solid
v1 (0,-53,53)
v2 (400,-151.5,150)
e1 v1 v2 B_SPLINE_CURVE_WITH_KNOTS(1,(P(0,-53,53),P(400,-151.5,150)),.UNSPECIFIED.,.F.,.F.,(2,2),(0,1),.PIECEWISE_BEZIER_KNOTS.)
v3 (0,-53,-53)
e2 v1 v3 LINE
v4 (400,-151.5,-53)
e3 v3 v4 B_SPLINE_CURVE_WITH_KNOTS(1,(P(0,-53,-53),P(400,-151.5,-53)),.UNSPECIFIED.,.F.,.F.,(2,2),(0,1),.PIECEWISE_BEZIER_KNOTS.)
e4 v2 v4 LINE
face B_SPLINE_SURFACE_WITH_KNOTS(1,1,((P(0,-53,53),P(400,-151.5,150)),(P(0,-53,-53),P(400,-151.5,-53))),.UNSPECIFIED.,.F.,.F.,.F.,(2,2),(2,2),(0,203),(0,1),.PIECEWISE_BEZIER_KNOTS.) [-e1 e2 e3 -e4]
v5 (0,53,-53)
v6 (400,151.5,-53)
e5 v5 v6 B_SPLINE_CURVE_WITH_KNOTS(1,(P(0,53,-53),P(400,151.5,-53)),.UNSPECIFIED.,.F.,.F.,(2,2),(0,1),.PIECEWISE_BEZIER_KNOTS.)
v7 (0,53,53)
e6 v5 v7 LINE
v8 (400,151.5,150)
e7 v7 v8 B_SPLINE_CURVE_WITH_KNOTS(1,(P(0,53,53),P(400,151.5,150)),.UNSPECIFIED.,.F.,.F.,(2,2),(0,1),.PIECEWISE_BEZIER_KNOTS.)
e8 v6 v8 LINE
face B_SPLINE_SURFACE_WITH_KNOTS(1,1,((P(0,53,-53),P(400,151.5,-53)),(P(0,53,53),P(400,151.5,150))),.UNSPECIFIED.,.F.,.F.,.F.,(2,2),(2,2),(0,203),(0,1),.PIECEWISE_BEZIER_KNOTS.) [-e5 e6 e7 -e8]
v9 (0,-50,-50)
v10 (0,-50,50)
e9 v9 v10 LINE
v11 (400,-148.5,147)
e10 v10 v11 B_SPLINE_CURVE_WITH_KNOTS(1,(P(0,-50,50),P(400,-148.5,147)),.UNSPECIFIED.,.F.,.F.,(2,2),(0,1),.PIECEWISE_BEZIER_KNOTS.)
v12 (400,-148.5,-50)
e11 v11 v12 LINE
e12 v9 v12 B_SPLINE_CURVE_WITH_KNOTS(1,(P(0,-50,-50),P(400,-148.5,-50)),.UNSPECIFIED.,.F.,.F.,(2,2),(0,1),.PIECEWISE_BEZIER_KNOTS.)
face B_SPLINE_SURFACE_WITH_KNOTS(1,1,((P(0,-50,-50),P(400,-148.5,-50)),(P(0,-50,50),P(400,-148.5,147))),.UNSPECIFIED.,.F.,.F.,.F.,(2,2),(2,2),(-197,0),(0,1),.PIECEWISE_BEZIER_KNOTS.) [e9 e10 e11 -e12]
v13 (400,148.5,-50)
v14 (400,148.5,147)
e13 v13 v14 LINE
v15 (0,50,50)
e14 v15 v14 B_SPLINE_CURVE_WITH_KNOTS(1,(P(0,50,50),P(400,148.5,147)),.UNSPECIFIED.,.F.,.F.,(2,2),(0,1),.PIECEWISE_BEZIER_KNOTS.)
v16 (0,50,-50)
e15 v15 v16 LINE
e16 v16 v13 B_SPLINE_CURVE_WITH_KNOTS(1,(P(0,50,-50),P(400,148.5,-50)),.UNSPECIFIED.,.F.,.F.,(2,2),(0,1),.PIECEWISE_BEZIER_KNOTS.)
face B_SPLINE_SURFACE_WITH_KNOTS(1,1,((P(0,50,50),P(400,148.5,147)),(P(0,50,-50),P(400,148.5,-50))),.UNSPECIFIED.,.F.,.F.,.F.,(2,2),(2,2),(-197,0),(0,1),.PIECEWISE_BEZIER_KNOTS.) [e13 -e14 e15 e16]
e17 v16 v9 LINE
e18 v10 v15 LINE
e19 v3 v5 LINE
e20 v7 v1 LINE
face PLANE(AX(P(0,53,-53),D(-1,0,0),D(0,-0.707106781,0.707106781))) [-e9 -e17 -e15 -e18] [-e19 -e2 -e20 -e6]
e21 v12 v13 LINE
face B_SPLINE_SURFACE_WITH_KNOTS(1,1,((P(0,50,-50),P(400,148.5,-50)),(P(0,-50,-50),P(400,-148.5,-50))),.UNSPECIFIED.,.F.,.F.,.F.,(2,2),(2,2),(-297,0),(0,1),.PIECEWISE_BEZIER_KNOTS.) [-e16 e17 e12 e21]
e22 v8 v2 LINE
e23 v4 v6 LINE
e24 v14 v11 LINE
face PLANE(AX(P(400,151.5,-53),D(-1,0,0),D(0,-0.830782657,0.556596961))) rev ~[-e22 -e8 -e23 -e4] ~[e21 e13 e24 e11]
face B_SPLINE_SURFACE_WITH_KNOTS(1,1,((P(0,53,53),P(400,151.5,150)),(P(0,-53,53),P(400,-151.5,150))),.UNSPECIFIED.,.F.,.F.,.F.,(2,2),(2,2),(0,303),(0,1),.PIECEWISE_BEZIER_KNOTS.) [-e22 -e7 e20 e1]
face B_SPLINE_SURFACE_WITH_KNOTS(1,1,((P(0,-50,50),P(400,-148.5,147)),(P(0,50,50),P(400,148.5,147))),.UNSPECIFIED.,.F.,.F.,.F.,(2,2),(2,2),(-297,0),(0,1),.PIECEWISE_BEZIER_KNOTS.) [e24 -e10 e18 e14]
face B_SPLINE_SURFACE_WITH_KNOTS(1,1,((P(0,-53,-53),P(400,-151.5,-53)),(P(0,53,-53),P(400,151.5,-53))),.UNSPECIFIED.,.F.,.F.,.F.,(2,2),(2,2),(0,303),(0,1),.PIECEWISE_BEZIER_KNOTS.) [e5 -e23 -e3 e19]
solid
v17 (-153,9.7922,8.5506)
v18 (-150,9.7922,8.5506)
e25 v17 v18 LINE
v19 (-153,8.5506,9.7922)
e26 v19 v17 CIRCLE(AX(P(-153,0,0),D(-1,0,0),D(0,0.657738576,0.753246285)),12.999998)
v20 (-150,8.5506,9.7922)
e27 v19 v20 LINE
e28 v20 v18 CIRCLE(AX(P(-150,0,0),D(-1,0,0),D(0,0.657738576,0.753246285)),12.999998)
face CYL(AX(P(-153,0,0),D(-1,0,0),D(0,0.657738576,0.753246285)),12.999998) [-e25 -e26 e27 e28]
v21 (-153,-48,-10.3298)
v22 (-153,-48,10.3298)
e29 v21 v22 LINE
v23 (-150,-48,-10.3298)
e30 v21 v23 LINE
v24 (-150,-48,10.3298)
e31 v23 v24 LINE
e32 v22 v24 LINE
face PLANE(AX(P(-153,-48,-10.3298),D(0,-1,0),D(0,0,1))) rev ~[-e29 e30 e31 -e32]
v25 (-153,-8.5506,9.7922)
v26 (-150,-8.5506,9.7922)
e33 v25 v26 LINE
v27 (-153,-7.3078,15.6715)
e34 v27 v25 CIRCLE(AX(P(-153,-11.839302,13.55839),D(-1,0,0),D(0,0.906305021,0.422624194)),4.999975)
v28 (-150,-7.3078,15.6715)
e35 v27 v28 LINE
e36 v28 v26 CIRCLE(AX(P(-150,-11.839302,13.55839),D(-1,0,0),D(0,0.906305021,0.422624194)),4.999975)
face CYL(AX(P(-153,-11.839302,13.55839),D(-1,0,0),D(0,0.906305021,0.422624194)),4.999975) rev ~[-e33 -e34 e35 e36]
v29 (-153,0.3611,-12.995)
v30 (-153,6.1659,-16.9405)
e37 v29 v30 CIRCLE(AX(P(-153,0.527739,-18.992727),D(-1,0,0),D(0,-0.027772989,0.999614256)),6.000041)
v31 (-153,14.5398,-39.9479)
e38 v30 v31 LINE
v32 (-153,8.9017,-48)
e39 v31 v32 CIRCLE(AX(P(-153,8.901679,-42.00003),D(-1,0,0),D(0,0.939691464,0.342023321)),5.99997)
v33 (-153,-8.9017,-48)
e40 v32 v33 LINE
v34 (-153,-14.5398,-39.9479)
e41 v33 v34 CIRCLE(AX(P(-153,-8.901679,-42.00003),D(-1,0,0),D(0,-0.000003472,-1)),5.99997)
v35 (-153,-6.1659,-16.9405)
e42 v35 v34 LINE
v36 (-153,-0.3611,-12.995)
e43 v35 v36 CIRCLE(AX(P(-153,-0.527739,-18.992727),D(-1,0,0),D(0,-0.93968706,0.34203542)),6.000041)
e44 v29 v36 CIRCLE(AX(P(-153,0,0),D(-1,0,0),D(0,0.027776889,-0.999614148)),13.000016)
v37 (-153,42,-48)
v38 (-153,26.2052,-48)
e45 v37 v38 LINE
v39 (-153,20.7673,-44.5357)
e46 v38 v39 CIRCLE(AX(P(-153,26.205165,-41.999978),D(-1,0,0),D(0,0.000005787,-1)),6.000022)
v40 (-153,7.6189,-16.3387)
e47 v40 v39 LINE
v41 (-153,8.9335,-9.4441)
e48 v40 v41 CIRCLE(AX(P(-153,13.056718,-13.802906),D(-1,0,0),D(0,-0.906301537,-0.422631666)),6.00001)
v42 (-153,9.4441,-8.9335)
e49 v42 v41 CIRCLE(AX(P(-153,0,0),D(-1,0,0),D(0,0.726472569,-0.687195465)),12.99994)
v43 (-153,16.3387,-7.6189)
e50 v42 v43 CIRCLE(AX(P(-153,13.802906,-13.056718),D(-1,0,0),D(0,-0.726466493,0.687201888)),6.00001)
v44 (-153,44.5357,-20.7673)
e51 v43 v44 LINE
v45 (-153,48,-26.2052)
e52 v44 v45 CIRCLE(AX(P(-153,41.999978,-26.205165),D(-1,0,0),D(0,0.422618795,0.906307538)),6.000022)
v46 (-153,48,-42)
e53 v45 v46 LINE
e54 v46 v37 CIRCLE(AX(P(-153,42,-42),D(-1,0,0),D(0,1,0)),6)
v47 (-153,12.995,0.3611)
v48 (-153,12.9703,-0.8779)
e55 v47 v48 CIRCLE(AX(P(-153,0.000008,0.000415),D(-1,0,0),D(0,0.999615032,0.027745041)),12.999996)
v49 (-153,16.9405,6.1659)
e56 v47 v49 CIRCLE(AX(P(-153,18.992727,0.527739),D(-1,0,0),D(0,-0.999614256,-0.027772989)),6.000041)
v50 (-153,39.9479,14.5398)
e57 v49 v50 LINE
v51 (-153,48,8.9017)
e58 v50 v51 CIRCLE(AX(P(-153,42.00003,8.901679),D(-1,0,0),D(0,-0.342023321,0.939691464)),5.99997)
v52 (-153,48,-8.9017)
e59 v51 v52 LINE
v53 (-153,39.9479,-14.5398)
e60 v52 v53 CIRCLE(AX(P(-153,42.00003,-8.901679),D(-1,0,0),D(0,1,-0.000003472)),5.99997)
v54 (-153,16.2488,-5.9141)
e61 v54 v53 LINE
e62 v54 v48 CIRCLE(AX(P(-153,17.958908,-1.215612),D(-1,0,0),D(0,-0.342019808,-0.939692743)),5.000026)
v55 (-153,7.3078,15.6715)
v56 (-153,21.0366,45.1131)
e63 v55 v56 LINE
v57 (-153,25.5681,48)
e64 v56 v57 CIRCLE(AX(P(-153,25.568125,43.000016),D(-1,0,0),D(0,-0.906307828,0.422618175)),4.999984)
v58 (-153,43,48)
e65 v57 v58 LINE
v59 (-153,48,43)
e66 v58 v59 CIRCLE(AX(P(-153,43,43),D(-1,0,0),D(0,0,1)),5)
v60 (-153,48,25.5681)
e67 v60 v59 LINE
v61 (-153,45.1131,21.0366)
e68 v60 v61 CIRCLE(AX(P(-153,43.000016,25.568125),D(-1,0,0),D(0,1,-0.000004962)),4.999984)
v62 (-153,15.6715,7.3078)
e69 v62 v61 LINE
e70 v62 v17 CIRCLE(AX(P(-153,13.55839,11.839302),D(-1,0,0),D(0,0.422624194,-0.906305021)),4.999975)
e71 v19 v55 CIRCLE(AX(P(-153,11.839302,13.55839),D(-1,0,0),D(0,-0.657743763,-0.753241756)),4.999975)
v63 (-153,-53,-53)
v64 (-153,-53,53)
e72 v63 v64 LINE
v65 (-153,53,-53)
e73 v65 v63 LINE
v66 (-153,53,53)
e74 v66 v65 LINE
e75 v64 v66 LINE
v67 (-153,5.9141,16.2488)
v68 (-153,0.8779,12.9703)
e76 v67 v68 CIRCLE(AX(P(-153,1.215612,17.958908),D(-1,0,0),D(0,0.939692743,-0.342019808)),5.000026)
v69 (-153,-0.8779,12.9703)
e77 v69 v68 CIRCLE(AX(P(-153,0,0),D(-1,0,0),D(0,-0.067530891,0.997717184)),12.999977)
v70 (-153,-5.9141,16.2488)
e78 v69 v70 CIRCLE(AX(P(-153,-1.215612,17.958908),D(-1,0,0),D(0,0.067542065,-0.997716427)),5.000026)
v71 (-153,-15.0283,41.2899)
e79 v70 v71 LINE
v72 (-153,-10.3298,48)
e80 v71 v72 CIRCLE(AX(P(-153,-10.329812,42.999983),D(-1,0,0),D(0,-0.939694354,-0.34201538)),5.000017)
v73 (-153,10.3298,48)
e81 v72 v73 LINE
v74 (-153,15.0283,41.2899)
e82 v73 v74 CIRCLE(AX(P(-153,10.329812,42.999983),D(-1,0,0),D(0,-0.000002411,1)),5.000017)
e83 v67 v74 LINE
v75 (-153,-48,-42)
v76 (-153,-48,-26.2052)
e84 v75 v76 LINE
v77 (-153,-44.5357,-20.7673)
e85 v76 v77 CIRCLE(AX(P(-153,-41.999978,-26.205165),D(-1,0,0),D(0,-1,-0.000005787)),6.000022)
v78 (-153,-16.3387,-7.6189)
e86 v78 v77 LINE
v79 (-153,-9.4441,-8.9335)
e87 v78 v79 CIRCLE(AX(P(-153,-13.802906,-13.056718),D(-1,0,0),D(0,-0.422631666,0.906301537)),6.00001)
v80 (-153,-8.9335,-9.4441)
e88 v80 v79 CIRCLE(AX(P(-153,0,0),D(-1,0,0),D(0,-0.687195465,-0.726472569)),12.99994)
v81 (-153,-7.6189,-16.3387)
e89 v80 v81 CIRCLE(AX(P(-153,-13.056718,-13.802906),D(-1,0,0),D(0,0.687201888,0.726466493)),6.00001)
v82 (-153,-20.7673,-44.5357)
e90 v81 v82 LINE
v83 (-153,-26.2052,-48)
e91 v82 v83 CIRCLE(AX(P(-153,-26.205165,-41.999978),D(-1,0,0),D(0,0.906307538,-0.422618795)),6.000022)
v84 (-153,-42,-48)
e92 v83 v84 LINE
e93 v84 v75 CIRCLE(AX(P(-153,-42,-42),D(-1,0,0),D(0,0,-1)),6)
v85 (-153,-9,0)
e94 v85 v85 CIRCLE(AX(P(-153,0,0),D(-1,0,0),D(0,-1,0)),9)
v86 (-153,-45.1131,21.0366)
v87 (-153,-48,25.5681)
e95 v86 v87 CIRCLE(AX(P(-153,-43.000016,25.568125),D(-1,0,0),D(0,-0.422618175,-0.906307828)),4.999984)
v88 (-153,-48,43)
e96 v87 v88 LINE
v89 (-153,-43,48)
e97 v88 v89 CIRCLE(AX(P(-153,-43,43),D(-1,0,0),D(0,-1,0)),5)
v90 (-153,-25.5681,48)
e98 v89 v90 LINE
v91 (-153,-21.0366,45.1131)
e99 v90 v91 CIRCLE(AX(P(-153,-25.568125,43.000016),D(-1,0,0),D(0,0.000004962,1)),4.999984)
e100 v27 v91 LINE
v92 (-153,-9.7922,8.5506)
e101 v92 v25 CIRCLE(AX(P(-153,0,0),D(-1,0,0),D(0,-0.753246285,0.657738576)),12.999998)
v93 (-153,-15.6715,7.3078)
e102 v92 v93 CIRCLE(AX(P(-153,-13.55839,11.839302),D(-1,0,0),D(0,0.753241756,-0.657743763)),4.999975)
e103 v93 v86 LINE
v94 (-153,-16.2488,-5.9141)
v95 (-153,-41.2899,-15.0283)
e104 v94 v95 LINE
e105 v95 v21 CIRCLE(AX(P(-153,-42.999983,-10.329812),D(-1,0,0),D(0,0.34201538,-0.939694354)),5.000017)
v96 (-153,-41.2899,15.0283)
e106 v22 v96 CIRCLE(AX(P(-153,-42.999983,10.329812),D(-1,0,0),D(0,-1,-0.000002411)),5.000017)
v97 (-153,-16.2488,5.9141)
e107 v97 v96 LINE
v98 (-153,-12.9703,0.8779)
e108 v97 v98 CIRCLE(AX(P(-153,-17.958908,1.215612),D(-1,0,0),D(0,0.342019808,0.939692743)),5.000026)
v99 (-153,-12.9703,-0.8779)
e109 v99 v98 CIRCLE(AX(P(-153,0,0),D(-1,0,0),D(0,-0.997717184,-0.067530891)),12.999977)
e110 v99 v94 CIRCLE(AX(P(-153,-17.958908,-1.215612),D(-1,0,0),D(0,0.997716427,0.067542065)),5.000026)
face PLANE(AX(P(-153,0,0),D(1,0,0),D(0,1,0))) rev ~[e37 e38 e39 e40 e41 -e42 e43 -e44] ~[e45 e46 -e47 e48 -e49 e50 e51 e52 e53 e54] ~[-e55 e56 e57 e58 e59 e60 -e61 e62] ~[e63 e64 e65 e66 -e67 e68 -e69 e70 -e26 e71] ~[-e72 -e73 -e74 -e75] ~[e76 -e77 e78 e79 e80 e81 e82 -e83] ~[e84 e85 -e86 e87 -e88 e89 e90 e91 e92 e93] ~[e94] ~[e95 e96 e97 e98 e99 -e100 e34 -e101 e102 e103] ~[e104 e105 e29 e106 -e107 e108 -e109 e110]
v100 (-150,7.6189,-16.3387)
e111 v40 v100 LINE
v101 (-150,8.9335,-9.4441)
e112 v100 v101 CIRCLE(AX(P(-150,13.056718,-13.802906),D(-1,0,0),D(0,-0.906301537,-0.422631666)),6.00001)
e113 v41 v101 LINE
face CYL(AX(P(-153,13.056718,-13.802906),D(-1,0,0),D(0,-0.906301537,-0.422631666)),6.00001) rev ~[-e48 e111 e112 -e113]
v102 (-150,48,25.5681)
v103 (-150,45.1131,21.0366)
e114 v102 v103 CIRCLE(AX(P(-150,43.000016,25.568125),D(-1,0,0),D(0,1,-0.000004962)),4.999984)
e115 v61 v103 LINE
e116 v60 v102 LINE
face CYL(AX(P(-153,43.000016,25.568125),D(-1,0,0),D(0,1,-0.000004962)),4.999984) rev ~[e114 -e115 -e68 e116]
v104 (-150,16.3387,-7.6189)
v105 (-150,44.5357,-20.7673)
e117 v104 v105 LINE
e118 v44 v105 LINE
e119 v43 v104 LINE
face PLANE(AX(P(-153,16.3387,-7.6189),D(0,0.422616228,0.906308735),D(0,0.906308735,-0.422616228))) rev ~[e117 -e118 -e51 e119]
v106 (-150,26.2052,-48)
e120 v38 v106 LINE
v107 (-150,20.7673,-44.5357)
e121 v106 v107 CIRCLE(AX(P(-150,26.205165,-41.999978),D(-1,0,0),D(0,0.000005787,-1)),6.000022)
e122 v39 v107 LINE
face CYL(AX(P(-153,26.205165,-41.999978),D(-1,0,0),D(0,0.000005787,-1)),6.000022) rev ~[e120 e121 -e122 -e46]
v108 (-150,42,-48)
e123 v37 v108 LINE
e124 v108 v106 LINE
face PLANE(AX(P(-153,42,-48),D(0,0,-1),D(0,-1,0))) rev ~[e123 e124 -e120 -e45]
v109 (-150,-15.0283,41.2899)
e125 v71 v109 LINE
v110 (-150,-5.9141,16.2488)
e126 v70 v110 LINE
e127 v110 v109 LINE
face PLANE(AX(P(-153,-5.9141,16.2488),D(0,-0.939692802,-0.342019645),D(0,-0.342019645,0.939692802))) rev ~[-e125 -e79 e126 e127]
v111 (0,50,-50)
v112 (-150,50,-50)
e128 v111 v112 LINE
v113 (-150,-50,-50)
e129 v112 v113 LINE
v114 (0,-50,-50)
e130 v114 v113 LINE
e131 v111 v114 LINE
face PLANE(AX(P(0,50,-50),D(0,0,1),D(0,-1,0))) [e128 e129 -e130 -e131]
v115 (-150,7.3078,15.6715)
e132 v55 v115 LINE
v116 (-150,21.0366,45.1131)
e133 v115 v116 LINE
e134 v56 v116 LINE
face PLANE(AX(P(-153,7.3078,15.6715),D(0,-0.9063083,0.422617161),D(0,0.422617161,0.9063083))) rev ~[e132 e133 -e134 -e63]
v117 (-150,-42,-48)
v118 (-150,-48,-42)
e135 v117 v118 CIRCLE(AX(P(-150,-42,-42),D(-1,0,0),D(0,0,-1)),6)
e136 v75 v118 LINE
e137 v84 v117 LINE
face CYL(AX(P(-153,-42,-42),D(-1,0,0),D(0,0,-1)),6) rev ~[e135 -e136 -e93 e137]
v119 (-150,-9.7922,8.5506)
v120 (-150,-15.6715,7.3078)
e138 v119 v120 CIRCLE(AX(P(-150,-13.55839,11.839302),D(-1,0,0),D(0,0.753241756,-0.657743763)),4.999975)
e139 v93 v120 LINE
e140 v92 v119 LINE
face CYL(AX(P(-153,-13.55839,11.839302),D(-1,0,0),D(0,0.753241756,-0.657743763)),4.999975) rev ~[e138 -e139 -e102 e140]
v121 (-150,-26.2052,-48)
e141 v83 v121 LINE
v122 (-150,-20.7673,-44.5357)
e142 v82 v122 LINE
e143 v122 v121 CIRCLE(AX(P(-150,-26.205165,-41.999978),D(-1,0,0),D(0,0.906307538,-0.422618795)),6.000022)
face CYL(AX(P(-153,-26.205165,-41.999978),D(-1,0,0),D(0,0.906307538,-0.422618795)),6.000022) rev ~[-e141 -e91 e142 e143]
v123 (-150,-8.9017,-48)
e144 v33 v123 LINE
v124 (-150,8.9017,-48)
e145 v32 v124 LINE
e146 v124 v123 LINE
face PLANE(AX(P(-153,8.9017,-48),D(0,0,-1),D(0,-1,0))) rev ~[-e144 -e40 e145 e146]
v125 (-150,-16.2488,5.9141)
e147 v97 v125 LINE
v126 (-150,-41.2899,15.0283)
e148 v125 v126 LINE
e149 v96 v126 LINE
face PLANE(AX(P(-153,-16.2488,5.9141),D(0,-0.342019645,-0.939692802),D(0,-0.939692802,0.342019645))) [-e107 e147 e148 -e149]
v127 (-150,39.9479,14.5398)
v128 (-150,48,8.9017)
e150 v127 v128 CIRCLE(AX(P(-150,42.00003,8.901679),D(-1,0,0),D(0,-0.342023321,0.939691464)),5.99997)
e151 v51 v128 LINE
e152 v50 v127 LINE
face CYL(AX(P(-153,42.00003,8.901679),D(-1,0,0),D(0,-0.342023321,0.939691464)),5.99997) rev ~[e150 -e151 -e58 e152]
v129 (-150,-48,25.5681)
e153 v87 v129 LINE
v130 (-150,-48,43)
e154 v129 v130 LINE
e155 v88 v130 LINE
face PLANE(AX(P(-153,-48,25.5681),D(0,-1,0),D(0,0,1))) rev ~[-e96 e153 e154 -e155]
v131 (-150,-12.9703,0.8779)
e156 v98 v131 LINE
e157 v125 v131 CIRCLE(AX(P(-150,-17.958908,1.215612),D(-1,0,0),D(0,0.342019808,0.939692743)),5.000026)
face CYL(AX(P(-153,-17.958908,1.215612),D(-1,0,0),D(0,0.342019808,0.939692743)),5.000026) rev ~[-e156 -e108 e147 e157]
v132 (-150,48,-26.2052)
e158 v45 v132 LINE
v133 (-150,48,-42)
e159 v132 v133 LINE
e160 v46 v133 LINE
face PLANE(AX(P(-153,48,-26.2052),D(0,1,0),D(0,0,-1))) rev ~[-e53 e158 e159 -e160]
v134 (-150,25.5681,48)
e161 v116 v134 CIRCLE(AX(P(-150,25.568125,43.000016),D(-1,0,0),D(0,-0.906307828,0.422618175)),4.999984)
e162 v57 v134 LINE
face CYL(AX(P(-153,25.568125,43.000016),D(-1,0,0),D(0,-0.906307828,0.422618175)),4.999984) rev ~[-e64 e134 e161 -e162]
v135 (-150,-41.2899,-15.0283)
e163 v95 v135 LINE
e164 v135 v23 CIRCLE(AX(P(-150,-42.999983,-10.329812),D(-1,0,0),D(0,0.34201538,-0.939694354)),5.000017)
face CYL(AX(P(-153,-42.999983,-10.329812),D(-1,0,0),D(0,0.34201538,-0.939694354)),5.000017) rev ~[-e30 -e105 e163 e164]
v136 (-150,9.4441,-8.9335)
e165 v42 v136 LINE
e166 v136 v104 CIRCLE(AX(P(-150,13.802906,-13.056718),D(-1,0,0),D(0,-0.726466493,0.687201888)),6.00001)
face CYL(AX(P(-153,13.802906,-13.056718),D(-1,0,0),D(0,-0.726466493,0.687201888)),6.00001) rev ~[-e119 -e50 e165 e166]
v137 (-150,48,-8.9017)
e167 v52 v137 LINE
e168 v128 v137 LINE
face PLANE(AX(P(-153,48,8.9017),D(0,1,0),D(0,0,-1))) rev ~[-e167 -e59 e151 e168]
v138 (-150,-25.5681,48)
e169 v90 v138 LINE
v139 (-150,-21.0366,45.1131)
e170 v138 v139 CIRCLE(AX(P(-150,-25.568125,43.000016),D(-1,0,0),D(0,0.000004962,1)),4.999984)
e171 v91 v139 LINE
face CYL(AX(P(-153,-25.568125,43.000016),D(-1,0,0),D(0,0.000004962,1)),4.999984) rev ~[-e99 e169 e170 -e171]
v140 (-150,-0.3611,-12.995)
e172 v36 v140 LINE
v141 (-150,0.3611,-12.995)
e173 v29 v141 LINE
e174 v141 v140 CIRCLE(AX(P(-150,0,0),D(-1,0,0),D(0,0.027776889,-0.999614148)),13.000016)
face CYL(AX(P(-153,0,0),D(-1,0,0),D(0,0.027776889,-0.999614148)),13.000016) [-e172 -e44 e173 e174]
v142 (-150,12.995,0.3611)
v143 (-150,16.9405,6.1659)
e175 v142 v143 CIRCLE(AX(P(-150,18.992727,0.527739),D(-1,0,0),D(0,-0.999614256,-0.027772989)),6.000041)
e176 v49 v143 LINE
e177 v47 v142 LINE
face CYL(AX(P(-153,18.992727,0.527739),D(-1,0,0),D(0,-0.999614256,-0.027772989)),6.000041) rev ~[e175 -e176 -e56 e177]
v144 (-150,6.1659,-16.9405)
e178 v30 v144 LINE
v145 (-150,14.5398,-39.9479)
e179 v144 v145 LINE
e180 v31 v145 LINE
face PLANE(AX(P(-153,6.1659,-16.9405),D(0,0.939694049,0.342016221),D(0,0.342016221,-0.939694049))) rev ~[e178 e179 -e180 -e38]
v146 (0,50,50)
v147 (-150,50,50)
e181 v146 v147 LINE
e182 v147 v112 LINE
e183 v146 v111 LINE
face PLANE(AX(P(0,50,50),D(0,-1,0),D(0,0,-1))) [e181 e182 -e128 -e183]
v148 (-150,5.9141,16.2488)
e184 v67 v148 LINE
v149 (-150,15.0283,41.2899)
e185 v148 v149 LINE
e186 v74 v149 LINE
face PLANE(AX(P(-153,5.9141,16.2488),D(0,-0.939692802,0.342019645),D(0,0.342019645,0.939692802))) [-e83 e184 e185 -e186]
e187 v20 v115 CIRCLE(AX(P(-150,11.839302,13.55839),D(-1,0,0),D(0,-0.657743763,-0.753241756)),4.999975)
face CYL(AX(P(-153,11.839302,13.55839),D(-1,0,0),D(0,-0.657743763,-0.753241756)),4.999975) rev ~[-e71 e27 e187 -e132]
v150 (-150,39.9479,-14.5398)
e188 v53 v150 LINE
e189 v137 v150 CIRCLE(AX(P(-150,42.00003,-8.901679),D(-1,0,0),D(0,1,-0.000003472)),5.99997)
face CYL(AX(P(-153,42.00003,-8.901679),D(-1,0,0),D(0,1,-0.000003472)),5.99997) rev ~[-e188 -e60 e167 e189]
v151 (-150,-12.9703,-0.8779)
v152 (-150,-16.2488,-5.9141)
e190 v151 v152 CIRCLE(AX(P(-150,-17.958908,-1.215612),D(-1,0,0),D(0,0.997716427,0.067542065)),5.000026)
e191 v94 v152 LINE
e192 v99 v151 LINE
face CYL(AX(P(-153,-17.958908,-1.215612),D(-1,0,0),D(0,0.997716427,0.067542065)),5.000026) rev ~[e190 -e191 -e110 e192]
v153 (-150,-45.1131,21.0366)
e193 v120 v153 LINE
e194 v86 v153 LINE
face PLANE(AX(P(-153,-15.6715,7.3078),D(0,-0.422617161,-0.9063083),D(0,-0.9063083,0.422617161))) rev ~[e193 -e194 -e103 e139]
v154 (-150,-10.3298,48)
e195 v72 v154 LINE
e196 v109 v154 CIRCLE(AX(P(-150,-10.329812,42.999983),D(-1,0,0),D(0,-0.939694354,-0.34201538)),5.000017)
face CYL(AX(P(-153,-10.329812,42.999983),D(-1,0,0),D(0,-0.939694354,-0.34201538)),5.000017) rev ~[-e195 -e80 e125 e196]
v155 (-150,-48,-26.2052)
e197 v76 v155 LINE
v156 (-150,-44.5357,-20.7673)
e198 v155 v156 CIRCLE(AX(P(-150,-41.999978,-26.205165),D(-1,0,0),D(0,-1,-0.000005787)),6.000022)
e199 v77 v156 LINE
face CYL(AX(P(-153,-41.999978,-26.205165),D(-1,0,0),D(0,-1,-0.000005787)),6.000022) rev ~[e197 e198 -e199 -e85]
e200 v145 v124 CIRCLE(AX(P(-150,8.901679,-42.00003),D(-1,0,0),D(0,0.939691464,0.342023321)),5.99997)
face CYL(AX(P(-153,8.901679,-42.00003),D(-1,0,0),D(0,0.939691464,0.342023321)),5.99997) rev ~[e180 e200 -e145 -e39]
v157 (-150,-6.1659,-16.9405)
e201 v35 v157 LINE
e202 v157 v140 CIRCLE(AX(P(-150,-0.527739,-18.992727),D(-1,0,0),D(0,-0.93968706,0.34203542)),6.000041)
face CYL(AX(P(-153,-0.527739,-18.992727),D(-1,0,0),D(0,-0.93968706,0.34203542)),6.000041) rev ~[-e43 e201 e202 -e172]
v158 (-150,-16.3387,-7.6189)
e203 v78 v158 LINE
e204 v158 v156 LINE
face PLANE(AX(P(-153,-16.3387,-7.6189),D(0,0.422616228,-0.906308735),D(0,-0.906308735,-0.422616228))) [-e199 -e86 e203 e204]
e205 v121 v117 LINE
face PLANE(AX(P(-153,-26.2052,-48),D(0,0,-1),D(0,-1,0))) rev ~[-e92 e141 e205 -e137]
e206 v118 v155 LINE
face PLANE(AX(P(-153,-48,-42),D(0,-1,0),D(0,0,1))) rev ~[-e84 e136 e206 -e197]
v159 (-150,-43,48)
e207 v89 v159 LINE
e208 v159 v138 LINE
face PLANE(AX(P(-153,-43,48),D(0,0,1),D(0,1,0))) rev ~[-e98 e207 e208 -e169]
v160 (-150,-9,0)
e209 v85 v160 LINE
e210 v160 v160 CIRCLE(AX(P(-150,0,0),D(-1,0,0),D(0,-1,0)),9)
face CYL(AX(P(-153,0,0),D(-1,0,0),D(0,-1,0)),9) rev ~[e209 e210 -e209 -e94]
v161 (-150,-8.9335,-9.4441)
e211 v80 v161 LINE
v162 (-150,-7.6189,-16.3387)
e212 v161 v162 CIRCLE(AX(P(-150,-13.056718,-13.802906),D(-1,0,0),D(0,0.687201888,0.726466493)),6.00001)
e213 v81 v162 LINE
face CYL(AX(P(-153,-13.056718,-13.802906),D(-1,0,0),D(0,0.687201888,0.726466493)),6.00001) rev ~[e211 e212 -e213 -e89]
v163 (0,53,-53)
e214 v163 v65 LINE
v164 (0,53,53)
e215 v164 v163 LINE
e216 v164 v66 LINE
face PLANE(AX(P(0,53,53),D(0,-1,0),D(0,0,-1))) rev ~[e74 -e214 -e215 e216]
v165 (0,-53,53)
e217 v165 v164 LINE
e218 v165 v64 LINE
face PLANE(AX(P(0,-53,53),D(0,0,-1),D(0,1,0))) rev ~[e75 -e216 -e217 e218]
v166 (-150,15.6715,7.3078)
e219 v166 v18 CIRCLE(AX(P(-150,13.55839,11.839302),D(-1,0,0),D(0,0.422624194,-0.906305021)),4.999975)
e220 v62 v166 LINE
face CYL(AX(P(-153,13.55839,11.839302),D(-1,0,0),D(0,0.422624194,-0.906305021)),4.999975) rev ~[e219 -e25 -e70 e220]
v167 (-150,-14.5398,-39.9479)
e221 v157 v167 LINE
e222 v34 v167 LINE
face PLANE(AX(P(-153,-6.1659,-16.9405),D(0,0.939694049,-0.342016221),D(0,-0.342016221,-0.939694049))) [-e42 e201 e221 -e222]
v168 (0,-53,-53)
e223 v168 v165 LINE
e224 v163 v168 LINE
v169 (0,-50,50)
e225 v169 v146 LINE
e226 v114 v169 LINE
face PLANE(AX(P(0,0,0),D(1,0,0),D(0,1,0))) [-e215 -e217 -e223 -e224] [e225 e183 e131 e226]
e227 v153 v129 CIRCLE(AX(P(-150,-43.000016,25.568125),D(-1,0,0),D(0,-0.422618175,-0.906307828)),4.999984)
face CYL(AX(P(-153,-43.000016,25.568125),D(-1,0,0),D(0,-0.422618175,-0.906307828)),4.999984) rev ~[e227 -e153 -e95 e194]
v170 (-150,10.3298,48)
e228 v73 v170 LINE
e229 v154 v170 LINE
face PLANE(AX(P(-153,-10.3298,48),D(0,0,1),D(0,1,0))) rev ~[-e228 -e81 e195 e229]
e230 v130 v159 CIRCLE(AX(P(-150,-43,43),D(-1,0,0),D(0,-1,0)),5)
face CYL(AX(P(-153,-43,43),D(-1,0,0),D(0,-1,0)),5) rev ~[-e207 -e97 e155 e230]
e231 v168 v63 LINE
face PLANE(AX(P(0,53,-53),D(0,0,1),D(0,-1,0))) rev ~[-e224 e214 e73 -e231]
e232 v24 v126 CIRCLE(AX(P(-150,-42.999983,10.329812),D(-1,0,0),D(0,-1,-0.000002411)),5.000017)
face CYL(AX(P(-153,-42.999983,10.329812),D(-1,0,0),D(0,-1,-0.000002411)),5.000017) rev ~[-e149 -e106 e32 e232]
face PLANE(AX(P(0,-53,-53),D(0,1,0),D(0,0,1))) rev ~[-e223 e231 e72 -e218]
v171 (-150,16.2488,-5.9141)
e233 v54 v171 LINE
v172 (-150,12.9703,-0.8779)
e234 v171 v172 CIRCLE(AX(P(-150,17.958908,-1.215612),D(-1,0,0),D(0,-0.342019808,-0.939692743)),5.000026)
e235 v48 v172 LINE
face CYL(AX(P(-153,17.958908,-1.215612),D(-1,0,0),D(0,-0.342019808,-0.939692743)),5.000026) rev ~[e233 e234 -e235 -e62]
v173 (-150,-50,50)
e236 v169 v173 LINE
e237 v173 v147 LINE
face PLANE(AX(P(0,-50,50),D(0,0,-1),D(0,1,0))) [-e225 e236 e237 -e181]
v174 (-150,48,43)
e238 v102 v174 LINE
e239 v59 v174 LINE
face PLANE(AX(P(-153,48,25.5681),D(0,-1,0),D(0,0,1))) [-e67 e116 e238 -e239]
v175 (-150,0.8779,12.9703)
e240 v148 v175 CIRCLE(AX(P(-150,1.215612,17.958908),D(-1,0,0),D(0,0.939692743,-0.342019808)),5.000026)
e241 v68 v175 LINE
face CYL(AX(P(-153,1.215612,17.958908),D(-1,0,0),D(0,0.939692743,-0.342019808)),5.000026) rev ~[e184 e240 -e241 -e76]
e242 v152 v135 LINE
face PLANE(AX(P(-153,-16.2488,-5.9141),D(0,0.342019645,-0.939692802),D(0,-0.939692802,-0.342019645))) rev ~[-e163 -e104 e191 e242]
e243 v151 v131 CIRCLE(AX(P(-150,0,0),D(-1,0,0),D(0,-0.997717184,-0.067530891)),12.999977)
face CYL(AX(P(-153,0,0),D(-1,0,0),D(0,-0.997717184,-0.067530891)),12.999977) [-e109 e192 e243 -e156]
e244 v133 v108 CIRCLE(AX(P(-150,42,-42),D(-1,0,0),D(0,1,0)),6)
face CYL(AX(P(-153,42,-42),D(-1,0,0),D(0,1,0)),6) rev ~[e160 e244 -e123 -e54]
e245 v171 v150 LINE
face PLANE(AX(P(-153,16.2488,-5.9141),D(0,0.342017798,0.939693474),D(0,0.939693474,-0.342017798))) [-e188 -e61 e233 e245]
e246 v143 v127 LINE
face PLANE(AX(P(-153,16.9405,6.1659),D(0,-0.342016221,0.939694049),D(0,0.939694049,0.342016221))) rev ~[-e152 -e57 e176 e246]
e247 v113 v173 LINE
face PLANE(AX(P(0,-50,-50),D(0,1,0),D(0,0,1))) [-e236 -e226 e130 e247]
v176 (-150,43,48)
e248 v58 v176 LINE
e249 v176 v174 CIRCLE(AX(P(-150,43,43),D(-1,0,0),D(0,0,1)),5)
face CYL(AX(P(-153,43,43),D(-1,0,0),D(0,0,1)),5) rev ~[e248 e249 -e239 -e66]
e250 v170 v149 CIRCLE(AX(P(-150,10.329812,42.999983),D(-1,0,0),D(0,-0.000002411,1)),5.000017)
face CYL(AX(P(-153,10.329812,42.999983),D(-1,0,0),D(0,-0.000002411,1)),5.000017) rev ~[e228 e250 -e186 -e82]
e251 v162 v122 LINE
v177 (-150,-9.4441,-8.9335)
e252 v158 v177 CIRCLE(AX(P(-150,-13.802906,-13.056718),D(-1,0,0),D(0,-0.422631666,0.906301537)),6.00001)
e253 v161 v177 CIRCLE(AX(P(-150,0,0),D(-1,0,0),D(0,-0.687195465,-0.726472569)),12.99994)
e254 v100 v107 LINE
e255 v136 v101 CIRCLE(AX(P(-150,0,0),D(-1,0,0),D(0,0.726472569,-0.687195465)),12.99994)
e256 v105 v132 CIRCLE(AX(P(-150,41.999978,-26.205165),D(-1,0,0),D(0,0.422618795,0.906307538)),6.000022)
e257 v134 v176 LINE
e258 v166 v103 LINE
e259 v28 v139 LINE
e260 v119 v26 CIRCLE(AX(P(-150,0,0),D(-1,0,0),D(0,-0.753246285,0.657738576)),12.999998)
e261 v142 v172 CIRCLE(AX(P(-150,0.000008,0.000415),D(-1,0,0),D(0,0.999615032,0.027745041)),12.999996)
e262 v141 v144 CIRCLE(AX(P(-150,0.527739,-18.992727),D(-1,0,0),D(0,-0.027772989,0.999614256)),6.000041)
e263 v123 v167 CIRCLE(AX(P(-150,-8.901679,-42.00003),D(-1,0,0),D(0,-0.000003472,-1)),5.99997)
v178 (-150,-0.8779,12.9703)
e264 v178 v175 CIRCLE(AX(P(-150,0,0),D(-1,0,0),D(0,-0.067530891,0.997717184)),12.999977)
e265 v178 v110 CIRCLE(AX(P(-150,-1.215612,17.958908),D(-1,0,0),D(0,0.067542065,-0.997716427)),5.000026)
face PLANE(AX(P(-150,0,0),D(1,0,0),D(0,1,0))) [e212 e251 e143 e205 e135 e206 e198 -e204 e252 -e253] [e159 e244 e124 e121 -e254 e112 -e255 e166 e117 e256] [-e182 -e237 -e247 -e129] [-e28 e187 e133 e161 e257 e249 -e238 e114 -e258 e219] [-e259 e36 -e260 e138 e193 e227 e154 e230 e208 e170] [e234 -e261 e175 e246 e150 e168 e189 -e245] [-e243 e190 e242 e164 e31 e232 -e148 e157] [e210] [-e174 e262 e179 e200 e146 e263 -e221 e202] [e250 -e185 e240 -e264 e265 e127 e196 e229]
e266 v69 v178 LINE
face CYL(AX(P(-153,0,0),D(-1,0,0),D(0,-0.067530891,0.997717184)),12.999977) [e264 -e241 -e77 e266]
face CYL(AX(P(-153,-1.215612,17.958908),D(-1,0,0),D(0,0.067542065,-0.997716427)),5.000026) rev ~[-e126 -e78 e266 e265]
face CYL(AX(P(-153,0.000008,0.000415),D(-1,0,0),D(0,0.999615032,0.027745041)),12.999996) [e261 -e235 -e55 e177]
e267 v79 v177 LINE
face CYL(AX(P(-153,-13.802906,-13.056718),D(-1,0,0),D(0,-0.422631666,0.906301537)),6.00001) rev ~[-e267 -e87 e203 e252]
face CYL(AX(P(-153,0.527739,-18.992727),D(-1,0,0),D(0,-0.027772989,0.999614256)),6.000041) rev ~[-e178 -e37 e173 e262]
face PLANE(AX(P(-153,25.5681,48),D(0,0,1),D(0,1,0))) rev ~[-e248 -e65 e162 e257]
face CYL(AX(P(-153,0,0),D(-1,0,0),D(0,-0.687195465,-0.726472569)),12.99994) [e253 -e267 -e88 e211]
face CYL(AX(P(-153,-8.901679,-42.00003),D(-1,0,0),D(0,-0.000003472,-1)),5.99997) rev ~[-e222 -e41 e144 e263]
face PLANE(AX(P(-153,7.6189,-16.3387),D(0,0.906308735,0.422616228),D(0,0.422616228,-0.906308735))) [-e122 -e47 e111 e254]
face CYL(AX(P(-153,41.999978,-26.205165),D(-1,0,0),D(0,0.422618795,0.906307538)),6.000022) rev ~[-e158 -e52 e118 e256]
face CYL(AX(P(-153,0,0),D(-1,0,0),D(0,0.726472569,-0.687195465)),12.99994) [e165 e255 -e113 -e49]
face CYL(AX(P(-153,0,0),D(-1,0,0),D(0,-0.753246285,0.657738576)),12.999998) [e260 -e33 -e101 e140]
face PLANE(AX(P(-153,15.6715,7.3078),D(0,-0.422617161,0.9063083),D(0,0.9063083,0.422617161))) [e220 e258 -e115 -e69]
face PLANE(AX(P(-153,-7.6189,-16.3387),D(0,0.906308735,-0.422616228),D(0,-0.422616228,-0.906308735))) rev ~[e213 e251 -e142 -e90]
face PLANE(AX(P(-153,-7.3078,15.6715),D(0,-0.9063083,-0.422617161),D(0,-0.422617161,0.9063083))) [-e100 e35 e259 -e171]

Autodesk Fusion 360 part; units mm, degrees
sketch "Skizze7" plane through (0, 0, 0) normal (1, 0, 0) x (0, 1, 0)
  line L0 (-53, 53) -> (53, 53)
  line L1 (53, 53) -> (53, -53)
  line L2 (53, -53) -> (-53, -53)
  line L3 (-53, -53) -> (-53, 53)
  line L4 (-53, 53) -> (53, -53) construction
  line L5 (53, 53) -> (-53, -53) construction
  dimension "d31" = 106
  dimension "d32" = 106
extrude "Extrusion4" add sketch "Skizze7" against normal blind 153 makes body 1
sketch "Skizze8" plane through (0, 0, 0) normal (1, 0, 0) x (0, 1, 0)
  line L0 (50, -50) -> (-50, -50)
  line L1 (-50, -50) -> (-50, 50)
  line L2 (-50, 50) -> (50, 50)
  line L3 (50, 50) -> (50, -50)
  line L4 (50, -50) -> (-50, 50) construction
  line L5 (-50, -50) -> (50, 50) construction
  dimension "d35" = 100
  dimension "d36" = 100
extrude "Extrusion5" cut sketch "Skizze8" against normal blind 150 bodies 1
sketch "Skizze9" plane through (-153, 0, 0) normal (-1, 0, 0) x (0, -1, 0)
  line L0 (-53, -53) -> (53, -53)
  line L1 (53, -53) -> (53, 53)
  line L2 (53, 53) -> (-53, 53)
  line L3 (-53, 53) -> (-53, -53)
  line L4 (53, 53) -> (-53, 53)
  line L5 (-53, 53) -> (-53, -53)
  line L6 (-53, -53) -> (53, -53)
  line L7 (53, -53) -> (53, 53)
  circle A0 centre (0, 0) radius 9
  line L8 (-6.1659, -16.9405) -> (-14.5398, -39.9479)
  line L9 (-16.2488, -5.9141) -> (-39.9479, -14.5398)
  line L10 (-16.9405, 6.1659) -> (-39.9479, 14.5398)
  line L11 (-5.9141, 16.2488) -> (-15.0283, 41.2899)
  line L12 (5.9141, 16.2488) -> (15.0283, 41.2899)
  line L13 (16.2488, 5.9141) -> (41.2899, 15.0283)
  line L14 (16.2488, -5.9141) -> (41.2899, -15.0283)
  line L15 (6.1659, -16.9405) -> (14.5398, -39.9479)
  line L16 (-7.6189, -16.3387) -> (-20.7673, -44.5357)
  line L17 (16.3387, -7.6189) -> (44.5357, -20.7673)
  line L18 (7.6189, -16.3387) -> (20.7673, -44.5357)
  line L19 (7.3078, 15.6715) -> (21.0366, 45.1131)
  line L20 (15.6715, 7.3078) -> (45.1131, 21.0366)
  line L21 (-15.6715, 7.3078) -> (-45.1131, 21.0366)
  line L22 (-7.3078, 15.6715) -> (-21.0366, 45.1131)
  line L23 (-42, -48) -> (-26.2052, -48)
  line L24 (-48, 8.9017) -> (-48, -8.9017)
  line L25 (-48, -26.2052) -> (-48, -42)
  line L26 (-8.9017, -48) -> (8.9017, -48)
  line L27 (26.2052, -48) -> (42, -48)
  line L28 (48, -42) -> (48, -26.2052)
  line L29 (48, -10.3298) -> (48, 10.3298)
  line L30 (48, 25.5681) -> (48, 43)
  line L31 (43, 48) -> (25.5681, 48)
  line L32 (-16.3387, -7.6189) -> (-44.5357, -20.7673)
  arc A1 (8.9335, -9.4441) -> (9.4441, -8.9335) centre (0, 0) ccw
  arc A2 (12.9703, -0.8779) -> (12.9703, 0.8779) centre (0, 0) ccw
  arc A3 (9.7922, 8.5506) -> (8.5506, 9.7922) centre (0, 0) ccw
  arc A4 (0.8779, 12.9703) -> (-0.8779, 12.9703) centre (0, 0) ccw
  arc A5 (-8.5506, 9.7922) -> (-9.7922, 8.5506) centre (0, 0) ccw
  arc A6 (-12.995, 0.3611) -> (-12.9703, -0.8779) centre (0, 0) ccw
  arc A7 (-9.4441, -8.9335) -> (-8.9335, -9.4441) centre (0, 0) ccw
  arc A8 (-0.3611, -12.995) -> (0.3611, -12.995) centre (0, 0) ccw
  arc A9 (8.9335, -9.4441) -> (7.6189, -16.3387) centre (13.0567, -13.803) ccw
  arc A10 (16.3387, -7.6189) -> (9.4441, -8.9335) centre (13.803, -13.0567) ccw
  arc A11 (48, -26.2052) -> (44.5357, -20.7673) centre (42, -26.2052) ccw
  arc A12 (20.7673, -44.5357) -> (26.2052, -48) centre (26.2052, -42) ccw
  arc A13 (42, -48) -> (48, -42) centre (42, -42) ccw
  arc A14 (6.1659, -16.9405) -> (0.3611, -12.995) centre (0.5277, -18.9927) ccw
  arc A15 (-0.3611, -12.995) -> (-6.1659, -16.9405) centre (-0.5277, -18.9927) ccw
  arc A16 (-14.5398, -39.9479) -> (-8.9017, -48) centre (-8.9017, -42) ccw
  arc A17 (8.9017, -48) -> (14.5398, -39.9479) centre (8.9017, -42) ccw
  arc A18 (-7.6189, -16.3387) -> (-8.9335, -9.4441) centre (-13.0567, -13.803) ccw
  arc A19 (-9.4441, -8.9335) -> (-16.3387, -7.6189) centre (-13.803, -13.0567) ccw
  arc A20 (-44.5357, -20.7673) -> (-48, -26.2052) centre (-42, -26.2052) ccw
  arc A21 (-48, -42) -> (-42, -48) centre (-42, -42) ccw
  arc A22 (-26.2052, -48) -> (-20.7673, -44.5357) centre (-26.2052, -42) ccw
  arc A23 (-48, -8.9017) -> (-39.9479, -14.5398) centre (-42, -8.9017) ccw
  arc A24 (-39.9479, 14.5398) -> (-48, 8.9017) centre (-42, 8.9017) ccw
  arc A25 (-12.995, 0.3611) -> (-16.9405, 6.1659) centre (-18.9927, 0.5277) ccw
  line L33 (10.3298, 48) -> (-10.3298, 48)
  line L34 (-25.5681, 48) -> (-43, 48)
  line L35 (-48, 25.5681) -> (-48, 43)
  arc A26 (-16.2488, -5.9141) -> (-12.9703, -0.8779) centre (-17.9589, -1.2156) ccw
  arc A27 (-15.6715, 7.3078) -> (-9.7922, 8.5506) centre (-13.5584, 11.8393) ccw
  arc A28 (-8.5506, 9.7922) -> (-7.3078, 15.6715) centre (-11.8393, 13.5584) ccw
  arc A29 (0.8779, 12.9703) -> (5.9141, 16.2488) centre (1.2156, 17.9589) ccw
  arc A30 (-5.9141, 16.2488) -> (-0.8779, 12.9703) centre (-1.2156, 17.9589) ccw
  arc A31 (16.2488, 5.9141) -> (12.9703, 0.8779) centre (17.9589, 1.2156) ccw
  arc A32 (7.3078, 15.6715) -> (8.5506, 9.7922) centre (11.8393, 13.5584) ccw
  arc A33 (9.7922, 8.5506) -> (15.6715, 7.3078) centre (13.5584, 11.8393) ccw
  arc A34 (12.9703, -0.8779) -> (16.2488, -5.9141) centre (17.9589, -1.2156) ccw
  arc A35 (48, 10.3298) -> (41.2899, 15.0283) centre (43, 10.3298) ccw
  arc A36 (41.2899, -15.0283) -> (48, -10.3298) centre (43, -10.3298) ccw
  arc A37 (45.1131, 21.0366) -> (48, 25.5681) centre (43, 25.5681) ccw
  arc A38 (48, 43) -> (43, 48) centre (43, 43) ccw
  arc A39 (25.5681, 48) -> (21.0366, 45.1131) centre (25.5681, 43) ccw
  arc A40 (-48, 25.5681) -> (-45.1131, 21.0366) centre (-43, 25.5681) ccw
  arc A41 (-43, 48) -> (-48, 43) centre (-43, 43) ccw
  arc A42 (-21.0366, 45.1131) -> (-25.5681, 48) centre (-25.5681, 43) ccw
  arc A43 (-10.3298, 48) -> (-15.0283, 41.2899) centre (-10.3298, 43) ccw
  arc A44 (15.0283, 41.2899) -> (10.3298, 48) centre (10.3298, 43) ccw
  dimension "d39" = 106
  dimension "d40" = 106
  dimension "d41" = 18
  dimension "d52" = 6
  dimension "d53" = 6
  dimension "d54" = 5
  dimension "d55" = 5
extrude "Extrusion6" cut sketch "Skizze9" against normal blind 3 contours A0 | L8 L15 L26 A8 A14 A15 A16 A17 | L9 L10 L24 A6 A23 A24 A25 A26 | L11 L12 A4 L33 A29 A30 A43 A44 | L13 L14 L29 A2 A31 A34 A35 A36 | L16 L23 L25 L32 A7 A18 A19 A20 A21 A22 | L17 L18 L27 L28 A1 A9 A10 A11 A12 A13 | L19 L20 L30 L31 A3 A32 A33 A37 A38 A39 | L21 L22 A5 L34 L35 A27 A28 A40 A41 A42 bodies 1
sketch "Skizze11" plane through (0, 0, 0) normal (1, 0, 0) x (0, 1, 0)
  line L0 (10, -10) -> (-10, -10)
  line L1 (-10, -10) -> (-10, 10)
  line L2 (-10, 10) -> (10, 10)
  line L3 (10, 10) -> (10, -10)
  line L4 (10, -10) -> (-10, 10) construction
  line L5 (-10, -10) -> (10, 10) construction
  dimension "d59" = 20
  dimension "d60" = 20
sketch "Skizze12" plane through (400, 0, 0) normal (1, 0, 0) x (0, 1, 0)
  line L0 (10, 10) -> (-10, 10)
  line L1 (-10, 10) -> (-10, -10)
  line L2 (-10, -10) -> (10, -10)
  line L3 (10, -10) -> (10, 10)
  line L4 (151.5, 150) -> (-151.5, 150)
  line L5 (-151.5, 150) -> (-151.5, -53)
  line L6 (-151.5, -53) -> (151.5, -53)
  line L7 (151.5, -53) -> (151.5, 150)
  dimension "d63" = 303
  dimension "d64" = 203
  dimension "d74" = 150
  dimension "d75" = 151.5
sketch "Skizze13" plane through (0, 0, 0) normal (1, 0, 0) x (0, 1, 0)
  line L0 (53, 53) -> (-53, 53)
  line L1 (-53, 53) -> (-53, -53)
  line L2 (-53, -53) -> (53, -53)
  line L3 (53, -53) -> (53, 53)
  line L4 (53, 53) -> (-53, -53) construction
  line L5 (-53, 53) -> (53, -53) construction
  dimension "d65" = 106
  dimension "d66" = 106
loft "Erhebung1" add profiles "Skizze13", "Skizze12" section 1 section 2 separate body makes body 2
sketch "Skizze14" plane through (400, 0, 0) normal (1, 0, 0) x (0, 1, 0)
  line L0 (151.5, -53) -> (151.5, 150)
  line L1 (151.5, 150) -> (-151.5, 150)
  line L2 (-151.5, 150) -> (-151.5, -53)
  line L3 (-151.5, -53) -> (151.5, -53)
  line L4 (148.5, 147) -> (-148.5, 147)
  line L5 (-148.5, 147) -> (-148.5, -50)
  line L6 (-148.5, -50) -> (148.5, -50)
  line L7 (148.5, -50) -> (148.5, 147)
  dimension "d67" = 297
  dimension "d68" = 197
  dimension "d72" = 147
  dimension "d73" = 148.5
sketch "Skizze15" plane through (0, 0, 0) normal (-1, 0, 0) x (0, -1, 0)
  line L0 (-53, 53) -> (-53, -53)
  line L1 (-53, -53) -> (53, -53)
  line L2 (53, -53) -> (53, 53)
  line L3 (53, 53) -> (-53, 53)
  line L4 (-50, -50) -> (50, -50)
  line L5 (50, -50) -> (50, 50)
  line L6 (50, 50) -> (-50, 50)
  line L7 (-50, 50) -> (-50, -50)
  line L8 (-50, -50) -> (50, 50) construction
  line L9 (50, -50) -> (-50, 50) construction
  dimension "d69" = 100
  dimension "d70" = 100
loft "Erhebung2" cut profiles "Skizze15", "Skizze14" section 1 contours L4 L5 L6 L7 section 2 contours L4 L5 L6 L7 bodies 2
sketch "Skizze16" plane through (400, 0, 0) normal (1, 0, 0) x (0, 1, 0)
  line L0 (148.5, 147) -> (148.5, -50)
  line L1 (148.5, -50) -> (-148.5, -50)
  line L2 (-148.5, -50) -> (-148.5, 147)
  line L3 (-148.5, 147) -> (148.5, 147)
  line L4 (151.5, -53) -> (151.5, 150)
  line L5 (151.5, 150) -> (-151.5, 150)
  line L6 (-151.5, 150) -> (-151.5, -53)
  line L7 (-151.5, -53) -> (151.5, -53)
  line L8 (-151.5, 150) -> (151.5, 150)
  line L9 (151.5, 150) -> (151.5, -53)
  line L10 (151.5, -53) -> (-151.5, -53)
  line L11 (-151.5, -53) -> (-151.5, 150)
  line L12 (-19.7997, 75.5735) -> (-72.0363, 147)
  line L13 (0, 150) -> (0, 147)
  line L14 (-32.5699, 56.5125) -> (-148.5, 85.0322)
  line L15 (32.5699, 56.5125) -> (148.5, 85.0322)
  line L16 (19.7997, 75.5735) -> (72.0363, 147)
  line L17 (-148.5, 48.5) -> (-151.5, 48.5)
  line L18 (148.5, 48.5) -> (151.5, 48.5)
  line L19 (-32.5699, 40.4875) -> (-148.5, 11.9678)
  line L20 (-19.7997, 21.4265) -> (-72.0363, -50)
  line L21 (19.7997, 21.4265) -> (69.0401, -45.9031)
  line L22 (32.5699, 40.4875) -> (140.8889, 13.8402)
  circle A0 centre (0, 48.5) radius 20
  line L23 (45.9313, 147) -> (14.175, 78.8985)
  line L24 (-45.9313, 147) -> (-14.175, 78.8985)
  line L25 (-39.2975, -35.7738) -> (-14.175, 18.1015)
  line L26 (33.0315, 54.3243) -> (148.5, 74.6846)
  line L27 (33.0315, 42.6757) -> (136.7635, 24.3849)
  line L28 (-33.0315, 54.3243) -> (-148.5, 74.6846)
  line L29 (-33.0315, 42.6757) -> (-148.5, 22.3154)
  line L30 (-148.5, 147) -> (148.5, 147)
  line L31 (148.5, 4.1297) -> (148.5, -40)
  line L32 (138.5, -50) -> (77.1118, -50)
  line L33 (-148.5, -50) -> (-148.5, 147)
  line L34 (39.2975, -35.7738) -> (14.175, 18.1015)
  arc A1 (-21.5579, 35.8408) -> (-19.9082, 33.3783) centre (0, 48.5) ccw
  arc A2 (-19.9082, 63.6217) -> (-21.5579, 61.1592) centre (0, 48.5) ccw
  arc A3 (3.6514, 73.2319) -> (-3.6514, 73.2319) centre (0, 48.5) ccw
  arc A4 (21.5579, 61.1592) -> (19.9082, 63.6217) centre (0, 48.5) ccw
  arc A5 (-3.6514, 23.7681) -> (3.6514, 23.7681) centre (0, 48.5) ccw
  arc A6 (19.9082, 33.3783) -> (21.5579, 35.8408) centre (0, 48.5) ccw
  arc A7 (32.5699, 40.4875) -> (21.5579, 35.8408) centre (30.1811, 30.7771) ccw
  arc A8 (19.9082, 33.3783) -> (19.7997, 21.4265) centre (27.8714, 27.3297) ccw
  arc A9 (148.5, 4.1297) -> (140.8889, 13.8402) centre (138.5, 4.1297) ccw
  arc A10 (138.5, -50) -> (148.5, -40) centre (138.5, -40) ccw
  arc A11 (69.0401, -45.9031) -> (77.1118, -50) centre (77.1118, -40) ccw
  line L35 (148.5, 147) -> (148.5, 34.233)
  line L36 (-30.2344, -50) -> (30.2344, -50)
  arc A12 (30.2344, -50) -> (39.2975, -35.7738) centre (30.2344, -40) ccw
  arc A13 (-39.2975, -35.7738) -> (-30.2344, -50) centre (-30.2344, -40) ccw
  arc A14 (-3.6514, 23.7681) -> (-14.175, 18.1015) centre (-5.112, 13.8753) ccw
  arc A15 (14.175, 18.1015) -> (3.6514, 23.7681) centre (5.112, 13.8753) ccw
  arc A16 (-19.7997, 21.4265) -> (-19.9082, 33.3783) centre (-27.8714, 27.3297) ccw
  arc A17 (-21.5579, 35.8408) -> (-32.5699, 40.4875) centre (-30.1811, 30.7771) ccw
  arc A18 (-25.6132, 48.5) -> (-33.0315, 54.3243) centre (-34.7679, 44.4763) ccw
  arc A19 (-33.0315, 42.6757) -> (-25.6132, 48.5) centre (-34.7679, 52.5237) ccw
  arc A20 (-32.5699, 56.5125) -> (-21.5579, 61.1592) centre (-30.1811, 66.2229) ccw
  arc A21 (-19.9082, 63.6217) -> (-19.7997, 75.5735) centre (-27.8714, 69.6703) ccw
  arc A22 (-14.175, 78.8985) -> (-3.6514, 73.2319) centre (-5.112, 83.1247) ccw
  arc A23 (3.6514, 73.2319) -> (14.175, 78.8985) centre (5.112, 83.1247) ccw
  arc A24 (19.7997, 75.5735) -> (19.9082, 63.6217) centre (27.8714, 69.6703) ccw
  arc A25 (21.5579, 61.1592) -> (32.5699, 56.5125) centre (30.1811, 66.2229) ccw
  arc A26 (-21.5579, 35.8408) -> (-19.9082, 33.3783) centre (0, 48.5) ccw
  arc A27 (-19.9082, 63.6217) -> (-21.5579, 61.1592) centre (0, 48.5) ccw
  arc A28 (3.6514, 73.2319) -> (-3.6514, 73.2319) centre (0, 48.5) ccw
  arc A29 (33.0315, 54.3243) -> (25.6132, 48.5) centre (34.7679, 44.4763) ccw
  arc A30 (25.6132, 48.5) -> (33.0315, 42.6757) centre (34.7679, 52.5237) ccw
  arc A31 (21.5579, 61.1592) -> (19.9082, 63.6217) centre (0, 48.5) ccw
  arc A32 (19.9082, 33.3783) -> (21.5579, 35.8408) centre (0, 48.5) ccw
  arc A33 (19.9082, 33.3783) -> (21.5579, 35.8408) centre (0, 48.5) ccw
  arc A34 (-3.6514, 23.7681) -> (3.6514, 23.7681) centre (0, 48.5) ccw
  arc A35 (-21.5579, 35.8408) -> (-19.9082, 33.3783) centre (0, 48.5) ccw
  arc A36 (-19.9082, 63.6217) -> (-21.5579, 61.1592) centre (0, 48.5) ccw
  arc A37 (21.5579, 61.1592) -> (19.9082, 63.6217) centre (0, 48.5) ccw
  arc A38 (3.6514, 73.2319) -> (-3.6514, 73.2319) centre (0, 48.5) ccw
  arc A39 (136.7635, 24.3849) -> (148.5, 34.233) centre (138.5, 34.233) ccw
  dimension "d82" = 40
  dimension "d84" = 25
  dimension "d85" = 10
  dimension "d86" = 10
  dimension "d87" = 10
  dimension "d88" = 10
  dimension "d89" = 10
  dimension "d90" = 10
equation "d73 = ( 297 / 2 ) * 1 mm"
equation "d75 = ( 303 / 2 ) * 1 mm"
